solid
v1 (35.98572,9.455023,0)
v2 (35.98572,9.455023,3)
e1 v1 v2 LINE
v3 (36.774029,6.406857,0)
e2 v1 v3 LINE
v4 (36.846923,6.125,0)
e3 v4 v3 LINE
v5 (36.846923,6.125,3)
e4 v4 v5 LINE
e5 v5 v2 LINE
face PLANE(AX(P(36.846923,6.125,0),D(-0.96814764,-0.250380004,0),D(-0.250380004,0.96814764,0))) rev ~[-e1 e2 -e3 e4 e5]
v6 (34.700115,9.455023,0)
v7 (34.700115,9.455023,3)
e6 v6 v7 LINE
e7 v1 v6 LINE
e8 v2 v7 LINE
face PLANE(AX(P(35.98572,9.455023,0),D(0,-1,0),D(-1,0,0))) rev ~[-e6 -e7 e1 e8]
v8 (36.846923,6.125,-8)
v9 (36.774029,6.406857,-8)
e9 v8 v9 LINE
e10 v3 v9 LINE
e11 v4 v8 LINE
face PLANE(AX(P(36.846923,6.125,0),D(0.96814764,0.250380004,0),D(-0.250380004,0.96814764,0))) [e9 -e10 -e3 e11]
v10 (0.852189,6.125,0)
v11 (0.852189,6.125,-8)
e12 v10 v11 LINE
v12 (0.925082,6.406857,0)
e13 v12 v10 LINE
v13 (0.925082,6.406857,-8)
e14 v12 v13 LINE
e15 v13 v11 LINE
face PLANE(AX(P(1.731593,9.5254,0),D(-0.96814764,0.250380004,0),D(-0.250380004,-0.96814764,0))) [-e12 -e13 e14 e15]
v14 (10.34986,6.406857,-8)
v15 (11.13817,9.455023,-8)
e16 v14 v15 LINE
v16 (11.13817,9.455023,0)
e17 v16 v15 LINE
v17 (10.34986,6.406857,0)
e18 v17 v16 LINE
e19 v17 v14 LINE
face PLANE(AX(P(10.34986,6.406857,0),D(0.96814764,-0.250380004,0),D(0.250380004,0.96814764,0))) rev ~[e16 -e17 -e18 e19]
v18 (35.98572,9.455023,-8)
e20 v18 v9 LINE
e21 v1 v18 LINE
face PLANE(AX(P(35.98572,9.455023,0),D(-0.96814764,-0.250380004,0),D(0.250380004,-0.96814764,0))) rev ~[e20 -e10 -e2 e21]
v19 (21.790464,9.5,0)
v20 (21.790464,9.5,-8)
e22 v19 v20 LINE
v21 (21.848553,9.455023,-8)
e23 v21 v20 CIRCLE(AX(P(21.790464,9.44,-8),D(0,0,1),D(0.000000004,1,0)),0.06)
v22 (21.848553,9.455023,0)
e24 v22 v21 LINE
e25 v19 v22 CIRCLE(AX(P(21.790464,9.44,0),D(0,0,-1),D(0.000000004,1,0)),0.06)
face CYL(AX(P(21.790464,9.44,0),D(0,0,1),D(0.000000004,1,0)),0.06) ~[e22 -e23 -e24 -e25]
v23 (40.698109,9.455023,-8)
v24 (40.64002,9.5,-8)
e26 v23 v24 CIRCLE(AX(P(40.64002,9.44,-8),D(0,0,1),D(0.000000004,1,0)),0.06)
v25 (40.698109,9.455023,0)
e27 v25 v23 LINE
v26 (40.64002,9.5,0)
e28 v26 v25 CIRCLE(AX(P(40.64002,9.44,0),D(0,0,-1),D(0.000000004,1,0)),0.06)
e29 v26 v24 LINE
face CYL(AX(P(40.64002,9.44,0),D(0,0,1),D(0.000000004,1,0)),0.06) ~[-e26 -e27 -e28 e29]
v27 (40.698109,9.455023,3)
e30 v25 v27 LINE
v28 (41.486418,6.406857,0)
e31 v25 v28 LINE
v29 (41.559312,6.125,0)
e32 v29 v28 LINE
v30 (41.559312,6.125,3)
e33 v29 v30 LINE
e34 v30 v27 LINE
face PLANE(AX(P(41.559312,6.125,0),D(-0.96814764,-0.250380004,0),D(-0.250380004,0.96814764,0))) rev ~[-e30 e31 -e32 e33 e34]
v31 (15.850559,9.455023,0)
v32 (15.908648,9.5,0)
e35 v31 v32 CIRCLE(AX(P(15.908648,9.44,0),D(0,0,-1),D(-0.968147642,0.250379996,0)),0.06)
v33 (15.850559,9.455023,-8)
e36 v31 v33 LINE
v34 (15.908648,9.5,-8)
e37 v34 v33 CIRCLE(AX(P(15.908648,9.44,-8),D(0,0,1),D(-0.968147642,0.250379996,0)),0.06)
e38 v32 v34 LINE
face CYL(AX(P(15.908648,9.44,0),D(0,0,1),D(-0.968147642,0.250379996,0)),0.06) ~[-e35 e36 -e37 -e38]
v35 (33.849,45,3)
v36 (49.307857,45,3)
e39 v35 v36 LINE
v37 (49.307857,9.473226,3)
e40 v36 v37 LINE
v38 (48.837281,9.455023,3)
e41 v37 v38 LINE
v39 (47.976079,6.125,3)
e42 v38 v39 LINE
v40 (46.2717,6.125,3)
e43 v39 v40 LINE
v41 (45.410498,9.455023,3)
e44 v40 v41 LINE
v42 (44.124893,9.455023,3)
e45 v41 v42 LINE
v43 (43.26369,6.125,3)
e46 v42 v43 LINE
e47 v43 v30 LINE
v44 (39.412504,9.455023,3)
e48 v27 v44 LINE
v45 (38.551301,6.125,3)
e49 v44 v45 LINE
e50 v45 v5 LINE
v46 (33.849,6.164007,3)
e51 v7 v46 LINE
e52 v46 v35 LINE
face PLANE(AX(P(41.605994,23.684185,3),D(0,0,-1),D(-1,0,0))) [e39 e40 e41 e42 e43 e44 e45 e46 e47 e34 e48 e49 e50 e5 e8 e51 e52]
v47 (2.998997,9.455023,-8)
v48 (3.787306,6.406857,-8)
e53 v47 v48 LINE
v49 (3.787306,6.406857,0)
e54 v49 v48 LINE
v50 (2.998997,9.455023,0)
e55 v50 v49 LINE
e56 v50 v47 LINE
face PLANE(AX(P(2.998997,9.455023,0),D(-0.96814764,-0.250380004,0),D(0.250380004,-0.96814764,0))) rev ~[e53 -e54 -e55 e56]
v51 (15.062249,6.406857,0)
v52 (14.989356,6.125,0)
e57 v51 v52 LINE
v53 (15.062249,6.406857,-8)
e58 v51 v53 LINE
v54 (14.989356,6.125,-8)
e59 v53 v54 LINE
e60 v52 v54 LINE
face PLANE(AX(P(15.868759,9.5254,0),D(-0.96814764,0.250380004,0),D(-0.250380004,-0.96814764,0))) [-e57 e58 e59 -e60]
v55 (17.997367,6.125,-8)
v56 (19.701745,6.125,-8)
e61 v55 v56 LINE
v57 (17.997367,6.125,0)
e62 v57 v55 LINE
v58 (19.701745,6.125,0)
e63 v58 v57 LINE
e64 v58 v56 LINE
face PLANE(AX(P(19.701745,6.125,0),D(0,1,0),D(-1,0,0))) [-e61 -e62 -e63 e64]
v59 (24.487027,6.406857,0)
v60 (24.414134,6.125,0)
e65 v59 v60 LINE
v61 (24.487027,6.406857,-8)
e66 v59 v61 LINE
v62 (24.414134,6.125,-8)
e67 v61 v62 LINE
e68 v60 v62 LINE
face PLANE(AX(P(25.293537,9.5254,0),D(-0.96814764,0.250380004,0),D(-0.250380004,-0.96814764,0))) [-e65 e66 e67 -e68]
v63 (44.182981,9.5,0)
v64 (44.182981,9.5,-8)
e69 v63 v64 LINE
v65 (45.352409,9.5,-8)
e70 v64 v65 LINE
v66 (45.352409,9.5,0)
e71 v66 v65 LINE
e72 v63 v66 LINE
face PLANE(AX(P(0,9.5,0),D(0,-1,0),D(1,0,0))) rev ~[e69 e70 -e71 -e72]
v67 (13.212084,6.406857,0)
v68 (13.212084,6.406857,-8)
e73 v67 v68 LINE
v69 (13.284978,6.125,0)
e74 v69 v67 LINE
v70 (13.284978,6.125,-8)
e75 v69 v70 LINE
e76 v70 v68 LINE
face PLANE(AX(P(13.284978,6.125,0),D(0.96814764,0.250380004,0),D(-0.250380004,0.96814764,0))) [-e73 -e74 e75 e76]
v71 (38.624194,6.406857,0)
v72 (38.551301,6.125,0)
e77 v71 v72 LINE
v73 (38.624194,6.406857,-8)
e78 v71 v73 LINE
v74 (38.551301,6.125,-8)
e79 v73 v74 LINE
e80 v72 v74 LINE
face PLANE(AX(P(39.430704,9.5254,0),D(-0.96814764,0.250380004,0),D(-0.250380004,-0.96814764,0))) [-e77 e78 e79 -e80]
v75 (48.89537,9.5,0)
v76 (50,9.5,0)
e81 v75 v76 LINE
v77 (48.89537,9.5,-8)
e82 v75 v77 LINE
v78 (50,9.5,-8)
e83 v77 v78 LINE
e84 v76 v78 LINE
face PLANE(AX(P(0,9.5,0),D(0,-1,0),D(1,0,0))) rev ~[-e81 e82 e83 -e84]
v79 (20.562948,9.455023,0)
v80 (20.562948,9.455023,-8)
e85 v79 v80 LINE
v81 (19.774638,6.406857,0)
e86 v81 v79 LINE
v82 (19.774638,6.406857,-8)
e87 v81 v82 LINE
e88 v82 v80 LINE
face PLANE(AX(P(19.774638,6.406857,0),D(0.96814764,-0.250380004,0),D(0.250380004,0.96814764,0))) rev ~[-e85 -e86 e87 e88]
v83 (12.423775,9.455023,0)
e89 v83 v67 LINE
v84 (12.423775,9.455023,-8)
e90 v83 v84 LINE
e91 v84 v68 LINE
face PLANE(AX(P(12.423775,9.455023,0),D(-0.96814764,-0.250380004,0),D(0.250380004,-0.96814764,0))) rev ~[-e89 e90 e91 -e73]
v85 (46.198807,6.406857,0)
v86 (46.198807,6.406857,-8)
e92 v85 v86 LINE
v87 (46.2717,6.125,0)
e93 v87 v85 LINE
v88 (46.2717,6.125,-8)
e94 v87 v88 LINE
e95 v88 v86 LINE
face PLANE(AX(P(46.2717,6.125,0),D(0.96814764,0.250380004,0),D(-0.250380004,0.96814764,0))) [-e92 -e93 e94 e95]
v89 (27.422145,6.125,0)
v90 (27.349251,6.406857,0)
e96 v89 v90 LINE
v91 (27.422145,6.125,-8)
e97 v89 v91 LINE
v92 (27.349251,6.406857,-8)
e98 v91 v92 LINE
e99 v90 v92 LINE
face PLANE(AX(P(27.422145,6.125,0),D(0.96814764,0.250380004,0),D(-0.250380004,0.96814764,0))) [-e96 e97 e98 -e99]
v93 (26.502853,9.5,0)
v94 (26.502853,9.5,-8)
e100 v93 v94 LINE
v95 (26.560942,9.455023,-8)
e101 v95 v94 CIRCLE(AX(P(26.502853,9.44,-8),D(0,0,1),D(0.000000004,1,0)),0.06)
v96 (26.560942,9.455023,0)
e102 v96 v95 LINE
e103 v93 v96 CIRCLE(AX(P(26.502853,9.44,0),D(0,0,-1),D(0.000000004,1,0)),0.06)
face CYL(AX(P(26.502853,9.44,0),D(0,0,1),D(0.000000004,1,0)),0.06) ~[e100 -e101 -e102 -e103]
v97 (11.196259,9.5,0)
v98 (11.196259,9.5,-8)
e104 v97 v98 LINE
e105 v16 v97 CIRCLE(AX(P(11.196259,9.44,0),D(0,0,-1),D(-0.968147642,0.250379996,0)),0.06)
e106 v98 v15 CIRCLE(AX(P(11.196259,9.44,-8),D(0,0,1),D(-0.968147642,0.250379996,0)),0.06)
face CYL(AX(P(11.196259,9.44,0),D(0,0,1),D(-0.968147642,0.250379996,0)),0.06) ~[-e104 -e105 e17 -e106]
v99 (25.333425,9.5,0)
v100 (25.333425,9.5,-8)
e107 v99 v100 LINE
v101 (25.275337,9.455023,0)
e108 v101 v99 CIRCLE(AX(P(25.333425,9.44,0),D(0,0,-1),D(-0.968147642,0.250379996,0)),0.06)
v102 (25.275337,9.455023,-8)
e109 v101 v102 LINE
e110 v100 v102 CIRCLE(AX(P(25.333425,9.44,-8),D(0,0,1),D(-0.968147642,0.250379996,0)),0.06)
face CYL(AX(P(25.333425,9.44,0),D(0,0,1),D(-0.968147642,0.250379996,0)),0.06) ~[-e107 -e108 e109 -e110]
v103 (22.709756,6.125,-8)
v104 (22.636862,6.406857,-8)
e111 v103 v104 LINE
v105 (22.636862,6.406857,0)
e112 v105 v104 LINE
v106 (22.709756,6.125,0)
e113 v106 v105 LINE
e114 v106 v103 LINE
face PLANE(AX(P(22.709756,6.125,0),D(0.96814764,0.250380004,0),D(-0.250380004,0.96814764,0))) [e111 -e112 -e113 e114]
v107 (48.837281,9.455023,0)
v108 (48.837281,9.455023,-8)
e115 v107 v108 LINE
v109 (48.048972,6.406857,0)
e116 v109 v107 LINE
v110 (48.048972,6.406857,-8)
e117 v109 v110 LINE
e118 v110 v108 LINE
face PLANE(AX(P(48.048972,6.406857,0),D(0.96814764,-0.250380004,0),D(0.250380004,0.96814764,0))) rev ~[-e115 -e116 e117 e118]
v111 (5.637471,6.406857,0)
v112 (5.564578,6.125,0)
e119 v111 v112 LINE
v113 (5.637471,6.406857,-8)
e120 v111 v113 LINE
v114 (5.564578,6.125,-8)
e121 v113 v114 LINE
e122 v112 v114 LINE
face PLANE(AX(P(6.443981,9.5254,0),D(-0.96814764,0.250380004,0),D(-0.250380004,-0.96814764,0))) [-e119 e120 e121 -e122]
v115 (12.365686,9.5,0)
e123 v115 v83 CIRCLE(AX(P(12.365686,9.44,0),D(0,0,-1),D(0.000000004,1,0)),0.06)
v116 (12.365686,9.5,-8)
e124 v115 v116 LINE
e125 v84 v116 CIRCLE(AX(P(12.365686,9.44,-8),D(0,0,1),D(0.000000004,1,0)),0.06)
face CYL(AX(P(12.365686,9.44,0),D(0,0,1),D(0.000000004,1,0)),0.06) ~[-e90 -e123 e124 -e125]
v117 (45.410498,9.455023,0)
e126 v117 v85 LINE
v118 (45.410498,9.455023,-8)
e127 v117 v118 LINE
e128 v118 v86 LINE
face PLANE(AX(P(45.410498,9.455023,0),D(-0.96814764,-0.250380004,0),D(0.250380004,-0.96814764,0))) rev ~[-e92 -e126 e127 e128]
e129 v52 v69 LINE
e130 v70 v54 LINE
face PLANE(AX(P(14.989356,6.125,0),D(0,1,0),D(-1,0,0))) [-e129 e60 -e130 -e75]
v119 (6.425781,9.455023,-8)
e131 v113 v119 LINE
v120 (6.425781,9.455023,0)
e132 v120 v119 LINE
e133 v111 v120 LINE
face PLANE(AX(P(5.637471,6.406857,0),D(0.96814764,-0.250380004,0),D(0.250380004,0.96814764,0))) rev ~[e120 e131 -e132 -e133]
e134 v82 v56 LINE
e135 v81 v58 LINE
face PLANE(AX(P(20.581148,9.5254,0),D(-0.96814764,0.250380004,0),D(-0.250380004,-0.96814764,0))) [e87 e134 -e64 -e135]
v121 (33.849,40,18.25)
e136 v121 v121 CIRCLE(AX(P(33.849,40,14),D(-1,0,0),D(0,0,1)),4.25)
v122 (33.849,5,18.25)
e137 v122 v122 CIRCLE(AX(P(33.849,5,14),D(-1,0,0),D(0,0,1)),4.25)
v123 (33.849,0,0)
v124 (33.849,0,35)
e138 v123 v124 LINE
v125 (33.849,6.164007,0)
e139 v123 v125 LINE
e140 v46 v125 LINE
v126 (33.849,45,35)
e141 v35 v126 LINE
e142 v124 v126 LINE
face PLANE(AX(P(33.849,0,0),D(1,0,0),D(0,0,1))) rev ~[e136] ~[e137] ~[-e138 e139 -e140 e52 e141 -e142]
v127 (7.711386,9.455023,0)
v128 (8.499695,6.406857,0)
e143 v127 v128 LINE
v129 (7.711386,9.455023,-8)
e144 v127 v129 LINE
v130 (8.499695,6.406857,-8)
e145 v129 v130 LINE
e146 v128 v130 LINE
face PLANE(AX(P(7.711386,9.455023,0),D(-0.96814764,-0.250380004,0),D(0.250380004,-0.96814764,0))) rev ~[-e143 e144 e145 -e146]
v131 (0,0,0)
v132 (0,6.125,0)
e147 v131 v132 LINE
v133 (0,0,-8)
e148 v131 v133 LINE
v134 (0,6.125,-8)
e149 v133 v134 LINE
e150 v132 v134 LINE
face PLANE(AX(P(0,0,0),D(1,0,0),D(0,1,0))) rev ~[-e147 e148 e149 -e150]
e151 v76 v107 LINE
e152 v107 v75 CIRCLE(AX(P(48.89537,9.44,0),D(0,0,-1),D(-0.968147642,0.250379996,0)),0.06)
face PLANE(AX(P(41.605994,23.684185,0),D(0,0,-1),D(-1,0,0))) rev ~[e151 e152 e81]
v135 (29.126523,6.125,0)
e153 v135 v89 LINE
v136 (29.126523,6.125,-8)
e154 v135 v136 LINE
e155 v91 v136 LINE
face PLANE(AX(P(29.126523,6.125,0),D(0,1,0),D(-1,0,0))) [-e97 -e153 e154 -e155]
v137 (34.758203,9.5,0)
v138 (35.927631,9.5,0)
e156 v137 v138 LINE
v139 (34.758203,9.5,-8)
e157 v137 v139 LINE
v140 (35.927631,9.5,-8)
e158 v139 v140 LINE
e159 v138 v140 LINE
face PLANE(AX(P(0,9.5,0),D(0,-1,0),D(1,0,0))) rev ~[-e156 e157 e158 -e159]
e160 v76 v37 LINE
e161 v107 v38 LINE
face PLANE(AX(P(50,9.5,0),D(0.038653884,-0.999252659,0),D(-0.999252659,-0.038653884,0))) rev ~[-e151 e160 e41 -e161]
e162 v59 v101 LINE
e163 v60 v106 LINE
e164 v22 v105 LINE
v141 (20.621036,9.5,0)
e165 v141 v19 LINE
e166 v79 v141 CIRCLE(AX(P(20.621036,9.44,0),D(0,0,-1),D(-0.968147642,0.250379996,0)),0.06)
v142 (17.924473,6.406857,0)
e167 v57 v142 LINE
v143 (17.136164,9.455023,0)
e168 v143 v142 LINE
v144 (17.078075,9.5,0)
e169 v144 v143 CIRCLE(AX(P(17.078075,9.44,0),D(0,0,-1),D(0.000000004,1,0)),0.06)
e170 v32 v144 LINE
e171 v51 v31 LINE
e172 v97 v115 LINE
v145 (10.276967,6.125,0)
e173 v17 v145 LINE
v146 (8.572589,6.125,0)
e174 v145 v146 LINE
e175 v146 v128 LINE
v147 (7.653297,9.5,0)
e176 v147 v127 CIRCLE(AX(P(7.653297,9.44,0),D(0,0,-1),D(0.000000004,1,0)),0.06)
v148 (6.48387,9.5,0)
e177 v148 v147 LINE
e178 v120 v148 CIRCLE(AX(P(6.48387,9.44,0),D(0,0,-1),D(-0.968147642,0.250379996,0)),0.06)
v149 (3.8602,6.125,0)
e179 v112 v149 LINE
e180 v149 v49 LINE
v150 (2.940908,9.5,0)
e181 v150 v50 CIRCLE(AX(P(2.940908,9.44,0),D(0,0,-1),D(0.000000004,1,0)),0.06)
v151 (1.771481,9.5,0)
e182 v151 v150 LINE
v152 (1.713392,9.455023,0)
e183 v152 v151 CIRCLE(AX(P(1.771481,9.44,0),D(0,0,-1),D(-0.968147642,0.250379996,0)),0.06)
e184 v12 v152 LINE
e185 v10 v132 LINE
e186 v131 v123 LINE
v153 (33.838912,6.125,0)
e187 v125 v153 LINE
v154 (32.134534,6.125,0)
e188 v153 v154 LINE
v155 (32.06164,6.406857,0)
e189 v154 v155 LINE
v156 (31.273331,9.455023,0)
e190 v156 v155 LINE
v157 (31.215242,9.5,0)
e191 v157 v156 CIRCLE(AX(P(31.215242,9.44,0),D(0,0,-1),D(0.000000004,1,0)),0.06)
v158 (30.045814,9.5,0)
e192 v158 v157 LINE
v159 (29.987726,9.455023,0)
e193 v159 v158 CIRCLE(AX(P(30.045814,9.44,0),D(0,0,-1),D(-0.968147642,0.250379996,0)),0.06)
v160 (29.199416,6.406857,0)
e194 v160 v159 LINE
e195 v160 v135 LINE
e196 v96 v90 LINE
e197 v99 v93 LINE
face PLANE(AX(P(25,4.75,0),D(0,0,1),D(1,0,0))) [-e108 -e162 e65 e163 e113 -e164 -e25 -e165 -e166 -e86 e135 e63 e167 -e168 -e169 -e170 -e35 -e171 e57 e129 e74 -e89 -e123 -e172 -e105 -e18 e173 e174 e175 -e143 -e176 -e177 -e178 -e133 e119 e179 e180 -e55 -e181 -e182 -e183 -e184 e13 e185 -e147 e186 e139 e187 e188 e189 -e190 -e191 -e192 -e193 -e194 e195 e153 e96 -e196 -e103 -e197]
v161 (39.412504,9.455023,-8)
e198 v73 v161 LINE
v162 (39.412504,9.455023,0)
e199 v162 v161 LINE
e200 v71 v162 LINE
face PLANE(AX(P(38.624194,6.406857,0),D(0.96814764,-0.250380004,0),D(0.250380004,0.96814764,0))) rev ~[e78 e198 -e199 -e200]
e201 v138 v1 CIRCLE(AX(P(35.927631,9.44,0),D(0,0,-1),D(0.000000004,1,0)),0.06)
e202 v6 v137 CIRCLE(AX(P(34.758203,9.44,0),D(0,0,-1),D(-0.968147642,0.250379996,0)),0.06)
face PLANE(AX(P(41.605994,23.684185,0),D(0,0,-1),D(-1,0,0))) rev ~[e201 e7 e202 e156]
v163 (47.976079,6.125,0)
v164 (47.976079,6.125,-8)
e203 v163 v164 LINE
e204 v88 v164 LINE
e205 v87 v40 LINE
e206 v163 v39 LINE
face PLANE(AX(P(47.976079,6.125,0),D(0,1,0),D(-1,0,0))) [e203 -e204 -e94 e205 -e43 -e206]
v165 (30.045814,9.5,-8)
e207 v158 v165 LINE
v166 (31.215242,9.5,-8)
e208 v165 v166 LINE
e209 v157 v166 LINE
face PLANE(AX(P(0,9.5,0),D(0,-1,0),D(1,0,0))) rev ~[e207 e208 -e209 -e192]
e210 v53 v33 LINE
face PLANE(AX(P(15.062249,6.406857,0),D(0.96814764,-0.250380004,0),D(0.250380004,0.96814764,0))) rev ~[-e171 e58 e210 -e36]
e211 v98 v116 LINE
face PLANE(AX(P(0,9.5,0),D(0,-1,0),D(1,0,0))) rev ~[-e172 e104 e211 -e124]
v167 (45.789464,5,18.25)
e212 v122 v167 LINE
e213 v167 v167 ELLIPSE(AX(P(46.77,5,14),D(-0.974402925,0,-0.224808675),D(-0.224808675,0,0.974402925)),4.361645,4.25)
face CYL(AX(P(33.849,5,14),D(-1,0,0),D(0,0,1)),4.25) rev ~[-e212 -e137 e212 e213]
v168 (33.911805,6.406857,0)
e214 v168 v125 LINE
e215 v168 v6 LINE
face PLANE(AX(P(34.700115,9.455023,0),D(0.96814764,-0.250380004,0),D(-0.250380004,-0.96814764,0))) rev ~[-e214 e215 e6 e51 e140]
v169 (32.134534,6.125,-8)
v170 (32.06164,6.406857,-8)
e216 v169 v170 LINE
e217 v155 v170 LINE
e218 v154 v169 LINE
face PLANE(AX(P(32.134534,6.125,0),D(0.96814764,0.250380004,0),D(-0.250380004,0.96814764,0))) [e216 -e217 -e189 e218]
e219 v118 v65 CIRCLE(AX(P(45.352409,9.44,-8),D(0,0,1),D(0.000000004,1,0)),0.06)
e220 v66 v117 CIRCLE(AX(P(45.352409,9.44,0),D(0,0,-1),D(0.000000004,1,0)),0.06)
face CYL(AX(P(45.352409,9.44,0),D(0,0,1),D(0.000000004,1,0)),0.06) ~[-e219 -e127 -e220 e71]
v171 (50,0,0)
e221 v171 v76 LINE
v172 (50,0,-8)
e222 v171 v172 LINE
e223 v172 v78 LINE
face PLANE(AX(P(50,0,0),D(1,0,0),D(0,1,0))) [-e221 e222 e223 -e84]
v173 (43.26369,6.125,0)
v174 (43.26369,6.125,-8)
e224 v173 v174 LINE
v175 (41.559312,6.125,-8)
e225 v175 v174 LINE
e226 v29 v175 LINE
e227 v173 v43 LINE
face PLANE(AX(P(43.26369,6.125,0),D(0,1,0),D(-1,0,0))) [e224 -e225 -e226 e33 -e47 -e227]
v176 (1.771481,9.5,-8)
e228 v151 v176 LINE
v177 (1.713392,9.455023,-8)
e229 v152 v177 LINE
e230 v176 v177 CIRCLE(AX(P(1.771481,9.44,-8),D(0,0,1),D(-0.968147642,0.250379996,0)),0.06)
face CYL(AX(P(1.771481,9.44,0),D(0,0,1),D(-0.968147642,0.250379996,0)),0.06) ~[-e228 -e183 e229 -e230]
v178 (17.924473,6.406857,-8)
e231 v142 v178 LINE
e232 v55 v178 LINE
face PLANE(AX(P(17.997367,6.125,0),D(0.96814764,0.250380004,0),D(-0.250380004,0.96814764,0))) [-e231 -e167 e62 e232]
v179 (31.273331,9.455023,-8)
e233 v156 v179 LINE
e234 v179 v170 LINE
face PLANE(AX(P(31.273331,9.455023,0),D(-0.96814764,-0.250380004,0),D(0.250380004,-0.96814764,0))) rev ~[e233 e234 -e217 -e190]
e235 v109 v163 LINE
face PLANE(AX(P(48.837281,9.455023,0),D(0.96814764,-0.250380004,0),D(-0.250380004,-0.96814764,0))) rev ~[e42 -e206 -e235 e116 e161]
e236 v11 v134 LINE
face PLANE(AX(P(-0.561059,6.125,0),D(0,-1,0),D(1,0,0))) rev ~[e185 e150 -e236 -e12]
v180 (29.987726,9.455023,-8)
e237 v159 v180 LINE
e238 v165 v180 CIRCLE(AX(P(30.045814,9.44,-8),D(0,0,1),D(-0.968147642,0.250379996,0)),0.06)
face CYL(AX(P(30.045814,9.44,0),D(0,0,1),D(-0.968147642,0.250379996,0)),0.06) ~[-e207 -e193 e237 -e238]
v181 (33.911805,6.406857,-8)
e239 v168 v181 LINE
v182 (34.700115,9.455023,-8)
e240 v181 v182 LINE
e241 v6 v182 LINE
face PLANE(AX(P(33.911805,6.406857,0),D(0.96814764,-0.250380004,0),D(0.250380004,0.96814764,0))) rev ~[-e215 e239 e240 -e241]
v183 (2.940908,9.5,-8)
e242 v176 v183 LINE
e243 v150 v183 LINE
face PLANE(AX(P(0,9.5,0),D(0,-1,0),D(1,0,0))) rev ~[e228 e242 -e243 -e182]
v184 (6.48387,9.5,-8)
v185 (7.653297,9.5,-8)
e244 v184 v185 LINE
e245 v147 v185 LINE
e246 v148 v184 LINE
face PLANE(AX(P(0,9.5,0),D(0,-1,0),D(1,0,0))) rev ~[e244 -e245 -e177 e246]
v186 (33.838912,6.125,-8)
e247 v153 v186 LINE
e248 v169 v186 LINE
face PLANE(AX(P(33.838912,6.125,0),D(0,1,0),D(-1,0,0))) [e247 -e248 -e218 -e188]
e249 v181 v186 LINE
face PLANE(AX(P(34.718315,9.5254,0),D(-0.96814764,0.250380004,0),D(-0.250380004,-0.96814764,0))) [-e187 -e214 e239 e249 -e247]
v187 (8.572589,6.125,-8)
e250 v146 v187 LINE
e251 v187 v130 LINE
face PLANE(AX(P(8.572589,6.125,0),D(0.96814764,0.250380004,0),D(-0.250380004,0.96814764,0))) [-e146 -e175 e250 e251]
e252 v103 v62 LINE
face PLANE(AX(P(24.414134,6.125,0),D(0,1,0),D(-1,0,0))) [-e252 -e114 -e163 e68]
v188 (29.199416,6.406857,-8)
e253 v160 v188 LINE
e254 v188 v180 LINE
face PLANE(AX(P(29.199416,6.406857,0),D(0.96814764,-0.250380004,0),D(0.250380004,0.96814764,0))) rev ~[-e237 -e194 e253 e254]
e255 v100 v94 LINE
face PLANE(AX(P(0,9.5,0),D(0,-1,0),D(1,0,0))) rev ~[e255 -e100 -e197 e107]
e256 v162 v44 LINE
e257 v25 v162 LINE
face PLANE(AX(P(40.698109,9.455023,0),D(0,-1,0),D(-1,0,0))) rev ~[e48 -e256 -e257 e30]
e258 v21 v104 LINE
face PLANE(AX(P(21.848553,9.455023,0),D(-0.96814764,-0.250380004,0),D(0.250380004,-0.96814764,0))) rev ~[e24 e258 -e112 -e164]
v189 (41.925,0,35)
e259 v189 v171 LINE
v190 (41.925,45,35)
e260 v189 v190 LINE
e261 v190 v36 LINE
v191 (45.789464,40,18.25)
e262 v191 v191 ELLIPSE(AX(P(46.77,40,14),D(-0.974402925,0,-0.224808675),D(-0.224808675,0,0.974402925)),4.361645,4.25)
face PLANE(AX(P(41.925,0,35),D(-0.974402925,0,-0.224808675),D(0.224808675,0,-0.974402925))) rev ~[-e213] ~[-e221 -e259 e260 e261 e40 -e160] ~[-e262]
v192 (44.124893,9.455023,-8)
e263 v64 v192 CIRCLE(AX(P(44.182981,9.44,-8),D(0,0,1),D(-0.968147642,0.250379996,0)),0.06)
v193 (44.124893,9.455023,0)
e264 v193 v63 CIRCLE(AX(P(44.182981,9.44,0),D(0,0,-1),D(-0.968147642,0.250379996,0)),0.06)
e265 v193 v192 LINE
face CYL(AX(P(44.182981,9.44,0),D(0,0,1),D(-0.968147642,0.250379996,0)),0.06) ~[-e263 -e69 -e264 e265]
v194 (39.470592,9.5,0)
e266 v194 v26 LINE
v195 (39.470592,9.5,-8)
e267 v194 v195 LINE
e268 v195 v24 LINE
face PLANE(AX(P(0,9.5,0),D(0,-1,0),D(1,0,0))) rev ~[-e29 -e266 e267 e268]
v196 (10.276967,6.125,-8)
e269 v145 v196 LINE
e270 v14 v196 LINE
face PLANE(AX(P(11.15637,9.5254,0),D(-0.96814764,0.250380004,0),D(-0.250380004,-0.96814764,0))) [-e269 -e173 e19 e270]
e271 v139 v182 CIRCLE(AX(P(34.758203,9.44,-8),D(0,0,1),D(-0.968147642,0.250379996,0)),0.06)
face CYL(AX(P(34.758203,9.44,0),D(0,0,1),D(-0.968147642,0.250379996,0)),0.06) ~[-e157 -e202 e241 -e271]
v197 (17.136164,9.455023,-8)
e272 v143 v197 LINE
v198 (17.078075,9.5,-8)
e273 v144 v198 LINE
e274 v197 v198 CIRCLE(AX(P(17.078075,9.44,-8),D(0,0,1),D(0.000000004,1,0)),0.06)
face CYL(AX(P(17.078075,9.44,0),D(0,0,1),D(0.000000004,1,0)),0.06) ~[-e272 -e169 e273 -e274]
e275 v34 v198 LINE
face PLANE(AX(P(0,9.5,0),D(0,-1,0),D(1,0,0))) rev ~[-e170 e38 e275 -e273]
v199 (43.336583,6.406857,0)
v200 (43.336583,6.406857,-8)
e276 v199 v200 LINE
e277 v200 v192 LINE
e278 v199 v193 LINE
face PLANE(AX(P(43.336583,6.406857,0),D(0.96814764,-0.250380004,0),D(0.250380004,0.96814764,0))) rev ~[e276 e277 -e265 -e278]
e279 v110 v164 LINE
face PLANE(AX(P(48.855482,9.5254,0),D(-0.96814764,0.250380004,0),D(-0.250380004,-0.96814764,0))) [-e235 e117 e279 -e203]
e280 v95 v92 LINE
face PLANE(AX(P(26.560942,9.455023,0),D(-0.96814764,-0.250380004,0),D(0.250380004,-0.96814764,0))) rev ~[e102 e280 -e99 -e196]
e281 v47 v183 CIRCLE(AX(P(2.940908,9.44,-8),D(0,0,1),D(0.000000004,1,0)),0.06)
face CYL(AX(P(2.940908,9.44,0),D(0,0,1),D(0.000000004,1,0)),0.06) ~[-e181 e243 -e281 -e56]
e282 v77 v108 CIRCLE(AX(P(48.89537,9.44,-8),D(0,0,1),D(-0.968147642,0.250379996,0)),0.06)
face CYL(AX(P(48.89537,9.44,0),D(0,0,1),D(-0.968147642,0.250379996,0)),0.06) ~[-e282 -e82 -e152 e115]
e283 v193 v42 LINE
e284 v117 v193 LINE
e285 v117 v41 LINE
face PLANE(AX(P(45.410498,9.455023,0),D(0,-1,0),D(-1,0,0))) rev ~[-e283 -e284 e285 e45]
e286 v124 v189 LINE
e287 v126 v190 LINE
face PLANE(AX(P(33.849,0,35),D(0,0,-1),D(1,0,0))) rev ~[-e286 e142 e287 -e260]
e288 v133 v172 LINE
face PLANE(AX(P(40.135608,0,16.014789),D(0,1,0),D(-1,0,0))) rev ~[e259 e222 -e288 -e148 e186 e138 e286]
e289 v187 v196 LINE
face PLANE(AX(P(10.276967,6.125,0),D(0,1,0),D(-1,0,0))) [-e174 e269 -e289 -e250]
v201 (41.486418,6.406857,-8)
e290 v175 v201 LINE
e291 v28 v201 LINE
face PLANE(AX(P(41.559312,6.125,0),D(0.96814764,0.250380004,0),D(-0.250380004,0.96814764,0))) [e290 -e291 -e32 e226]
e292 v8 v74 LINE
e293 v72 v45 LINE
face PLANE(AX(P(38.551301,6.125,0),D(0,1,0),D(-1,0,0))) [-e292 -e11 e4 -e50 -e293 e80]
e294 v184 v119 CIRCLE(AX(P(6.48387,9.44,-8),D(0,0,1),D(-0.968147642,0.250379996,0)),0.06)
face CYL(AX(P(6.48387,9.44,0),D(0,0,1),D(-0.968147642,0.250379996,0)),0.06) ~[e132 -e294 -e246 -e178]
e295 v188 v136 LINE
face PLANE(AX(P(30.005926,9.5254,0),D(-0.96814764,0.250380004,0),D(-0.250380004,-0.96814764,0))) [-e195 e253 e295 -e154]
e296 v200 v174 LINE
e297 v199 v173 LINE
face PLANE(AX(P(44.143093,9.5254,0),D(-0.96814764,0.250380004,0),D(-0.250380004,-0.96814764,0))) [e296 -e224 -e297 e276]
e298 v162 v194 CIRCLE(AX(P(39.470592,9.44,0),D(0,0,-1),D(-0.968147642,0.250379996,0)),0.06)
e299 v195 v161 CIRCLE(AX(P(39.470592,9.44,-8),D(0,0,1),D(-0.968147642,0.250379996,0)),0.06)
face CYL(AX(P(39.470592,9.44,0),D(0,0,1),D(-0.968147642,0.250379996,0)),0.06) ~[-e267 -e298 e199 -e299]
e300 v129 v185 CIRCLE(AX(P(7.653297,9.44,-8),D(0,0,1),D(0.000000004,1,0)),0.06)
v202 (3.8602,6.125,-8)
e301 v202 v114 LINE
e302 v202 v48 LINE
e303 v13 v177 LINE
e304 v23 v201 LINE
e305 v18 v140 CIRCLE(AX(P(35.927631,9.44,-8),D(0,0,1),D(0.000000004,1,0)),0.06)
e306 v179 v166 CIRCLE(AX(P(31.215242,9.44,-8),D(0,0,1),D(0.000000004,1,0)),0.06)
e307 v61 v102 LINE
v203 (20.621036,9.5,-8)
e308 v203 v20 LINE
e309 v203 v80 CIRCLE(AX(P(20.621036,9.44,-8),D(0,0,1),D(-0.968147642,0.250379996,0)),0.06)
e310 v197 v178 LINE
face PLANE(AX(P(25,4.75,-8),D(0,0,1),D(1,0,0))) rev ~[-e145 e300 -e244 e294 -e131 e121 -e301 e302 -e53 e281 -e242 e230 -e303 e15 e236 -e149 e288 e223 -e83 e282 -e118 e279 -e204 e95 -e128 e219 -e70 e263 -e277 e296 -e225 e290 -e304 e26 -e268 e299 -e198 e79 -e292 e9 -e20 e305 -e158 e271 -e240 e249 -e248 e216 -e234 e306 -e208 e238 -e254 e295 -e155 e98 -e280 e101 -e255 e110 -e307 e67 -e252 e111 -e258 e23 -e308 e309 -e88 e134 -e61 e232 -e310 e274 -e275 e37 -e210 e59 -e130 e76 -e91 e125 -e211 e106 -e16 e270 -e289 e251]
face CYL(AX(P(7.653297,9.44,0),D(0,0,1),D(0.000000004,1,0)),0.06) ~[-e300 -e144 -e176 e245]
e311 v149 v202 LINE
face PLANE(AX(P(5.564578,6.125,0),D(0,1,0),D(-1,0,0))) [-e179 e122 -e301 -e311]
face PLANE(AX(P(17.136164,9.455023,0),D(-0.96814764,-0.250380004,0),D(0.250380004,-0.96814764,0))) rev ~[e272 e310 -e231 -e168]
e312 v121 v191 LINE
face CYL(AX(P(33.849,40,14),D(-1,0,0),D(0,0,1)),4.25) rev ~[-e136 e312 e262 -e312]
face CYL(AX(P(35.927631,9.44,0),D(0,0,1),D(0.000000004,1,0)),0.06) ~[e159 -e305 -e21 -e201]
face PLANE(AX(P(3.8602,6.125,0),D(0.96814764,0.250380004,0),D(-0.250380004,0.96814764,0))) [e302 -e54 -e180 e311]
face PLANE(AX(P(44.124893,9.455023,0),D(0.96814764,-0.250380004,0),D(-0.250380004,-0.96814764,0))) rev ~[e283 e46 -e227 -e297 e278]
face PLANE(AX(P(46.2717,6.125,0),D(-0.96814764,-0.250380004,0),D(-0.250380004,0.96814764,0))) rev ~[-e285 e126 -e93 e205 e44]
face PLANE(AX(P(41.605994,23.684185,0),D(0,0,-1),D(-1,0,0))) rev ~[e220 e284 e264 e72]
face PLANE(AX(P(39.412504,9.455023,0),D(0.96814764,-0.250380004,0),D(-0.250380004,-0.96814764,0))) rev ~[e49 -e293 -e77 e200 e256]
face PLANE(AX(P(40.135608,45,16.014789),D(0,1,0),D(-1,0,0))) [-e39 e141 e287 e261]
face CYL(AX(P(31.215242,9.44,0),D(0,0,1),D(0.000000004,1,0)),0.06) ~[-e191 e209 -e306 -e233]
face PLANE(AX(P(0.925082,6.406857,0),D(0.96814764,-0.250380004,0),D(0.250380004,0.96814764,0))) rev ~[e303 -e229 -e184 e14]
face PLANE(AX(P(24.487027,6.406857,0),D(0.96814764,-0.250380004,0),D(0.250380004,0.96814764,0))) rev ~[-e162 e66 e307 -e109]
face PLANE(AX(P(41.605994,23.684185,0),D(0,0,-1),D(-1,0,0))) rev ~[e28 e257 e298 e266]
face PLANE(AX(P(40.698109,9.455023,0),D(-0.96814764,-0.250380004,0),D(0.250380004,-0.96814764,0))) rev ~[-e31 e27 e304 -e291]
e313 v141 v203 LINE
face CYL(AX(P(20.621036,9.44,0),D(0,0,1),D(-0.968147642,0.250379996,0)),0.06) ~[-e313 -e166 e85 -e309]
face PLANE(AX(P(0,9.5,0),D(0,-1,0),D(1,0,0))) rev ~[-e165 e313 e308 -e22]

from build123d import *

# Parameters (mm, degrees)
BLANKSKE_W          = 50
BLANKSKE_H          = 9.5
BLANK_DEPTH         = 8
TOOTHCUTILL_DEPTH   = 52.519413817
TOOTHCUTSIM_DEPTH   = 52.519413817
TEETHCUTS_COUNT     = 11
TEETHCUTS_PITCH     = 4.712388975
BOSS_EXTRUDE8_DEPTH = 45
CUT_EXTRUDE5_DEPTH  = 3
SKETCH20_R          = 4.25
CUT_EXTRUDE6_DEPTH  = 25


with BuildPart() as part:
    # BlankSke → Blank (new body)
    with BuildSketch(Plane.XY):
        with Locations((25, 4.75)):
            Rectangle(BLANKSKE_W, BLANKSKE_H)
    extrude(amount=-BLANK_DEPTH)

    # TooCutSkeIll → ToothCutIll (cut, through all)
    with BuildSketch(Plane.XY):
        with BuildLine():
            Line((-1.713391726, 9.4550228), (-0.92508248, 6.406857118))
            ThreePointArc((-0.92508248, 6.406857118), (-0.791252665, 6.20370072), (-0.561058967, 6.125))
            Line((-0.561058967, 6.125), (0.561058967, 6.125))
            ThreePointArc((0.561058967, 6.125), (0.791252665, 6.20370072), (0.92508248, 6.406857118))
            Line((0.92508248, 6.406857118), (1.713391726, 9.4550228))
            ThreePointArc((1.713391726, 9.4550228), (1.734747547, 9.487441374), (1.771480584, 9.5))
            Line((1.771480584, 9.5), (1.771480584, 9.5254))
            Line((1.771480584, 9.5254), (-1.771480584, 9.5254))
            Line((-1.771480584, 9.5254), (-1.771480584, 9.5))
            ThreePointArc((-1.771480584, 9.5), (-1.734747547, 9.487441374), (-1.713391726, 9.4550228))
        make_face()
    toothcutill = extrude(amount=-TOOTHCUTILL_DEPTH, mode=Mode.SUBTRACT)

    # TooCutSkeSim → ToothCutSim (cut, through all)
    with BuildSketch(Plane.XY):
        Polygon((0.852189273, 6.125), (-0.852189273, 6.125), (-1.731592507, 9.5254), (1.731592507, 9.5254), align=None)
    toothcutsim = extrude(amount=-TOOTHCUTSIM_DEPTH, mode=Mode.SUBTRACT)

    # TeethCuts: ToothCutIll, ToothCutSim ×11
    with Locations(*[(i * TEETHCUTS_PITCH, 0, 0) for i in range(1, TEETHCUTS_COUNT)]):
        add(toothcutill, mode=Mode.SUBTRACT)
        add(toothcutsim, mode=Mode.SUBTRACT)

    # Sketch16 → Boss-Extrude8 (add)
    with BuildSketch(Plane.XZ):
        Polygon((50, 0), (33.849, 0), (33.849, 35), (41.925, 35), align=None)
    extrude(amount=-BOSS_EXTRUDE8_DEPTH)

    # Sketch17 → Cut-Extrude5 (cut)
    with BuildSketch(Plane(origin=(0, 0, 0), x_dir=(-1, 0, 0), z_dir=(0, 0, -1))):
        Polygon((-50, 9.5), (-48.837281476, 9.4550228), (-47.976079023, 6.125), (-46.271700477, 6.125), (-45.410498024, 9.4550228), (-44.124892501, 9.4550228), (-43.263690048, 6.125), (-41.559311502, 6.125), (-40.698109049, 9.4550228), (-39.412503526, 9.4550228), (-38.551301073, 6.125), (-36.846922527, 6.125), (-35.985720074, 9.4550228), (-34.700114551, 9.4550228), (-33.838912098, 6.125), (-33.849, 45), (-50, 45), align=None)
    extrude(amount=-CUT_EXTRUDE5_DEPTH, mode=Mode.SUBTRACT)

    # Sketch20 → Cut-Extrude6 (cut)
    with BuildSketch(Plane.ZY.offset(-33.849)):
        with Locations((14, 40)):
            Circle(SKETCH20_R)
        with Locations((14, 5)):
            Circle(SKETCH20_R)
    extrude(amount=-CUT_EXTRUDE6_DEPTH, mode=Mode.SUBTRACT)


solid = part.part
